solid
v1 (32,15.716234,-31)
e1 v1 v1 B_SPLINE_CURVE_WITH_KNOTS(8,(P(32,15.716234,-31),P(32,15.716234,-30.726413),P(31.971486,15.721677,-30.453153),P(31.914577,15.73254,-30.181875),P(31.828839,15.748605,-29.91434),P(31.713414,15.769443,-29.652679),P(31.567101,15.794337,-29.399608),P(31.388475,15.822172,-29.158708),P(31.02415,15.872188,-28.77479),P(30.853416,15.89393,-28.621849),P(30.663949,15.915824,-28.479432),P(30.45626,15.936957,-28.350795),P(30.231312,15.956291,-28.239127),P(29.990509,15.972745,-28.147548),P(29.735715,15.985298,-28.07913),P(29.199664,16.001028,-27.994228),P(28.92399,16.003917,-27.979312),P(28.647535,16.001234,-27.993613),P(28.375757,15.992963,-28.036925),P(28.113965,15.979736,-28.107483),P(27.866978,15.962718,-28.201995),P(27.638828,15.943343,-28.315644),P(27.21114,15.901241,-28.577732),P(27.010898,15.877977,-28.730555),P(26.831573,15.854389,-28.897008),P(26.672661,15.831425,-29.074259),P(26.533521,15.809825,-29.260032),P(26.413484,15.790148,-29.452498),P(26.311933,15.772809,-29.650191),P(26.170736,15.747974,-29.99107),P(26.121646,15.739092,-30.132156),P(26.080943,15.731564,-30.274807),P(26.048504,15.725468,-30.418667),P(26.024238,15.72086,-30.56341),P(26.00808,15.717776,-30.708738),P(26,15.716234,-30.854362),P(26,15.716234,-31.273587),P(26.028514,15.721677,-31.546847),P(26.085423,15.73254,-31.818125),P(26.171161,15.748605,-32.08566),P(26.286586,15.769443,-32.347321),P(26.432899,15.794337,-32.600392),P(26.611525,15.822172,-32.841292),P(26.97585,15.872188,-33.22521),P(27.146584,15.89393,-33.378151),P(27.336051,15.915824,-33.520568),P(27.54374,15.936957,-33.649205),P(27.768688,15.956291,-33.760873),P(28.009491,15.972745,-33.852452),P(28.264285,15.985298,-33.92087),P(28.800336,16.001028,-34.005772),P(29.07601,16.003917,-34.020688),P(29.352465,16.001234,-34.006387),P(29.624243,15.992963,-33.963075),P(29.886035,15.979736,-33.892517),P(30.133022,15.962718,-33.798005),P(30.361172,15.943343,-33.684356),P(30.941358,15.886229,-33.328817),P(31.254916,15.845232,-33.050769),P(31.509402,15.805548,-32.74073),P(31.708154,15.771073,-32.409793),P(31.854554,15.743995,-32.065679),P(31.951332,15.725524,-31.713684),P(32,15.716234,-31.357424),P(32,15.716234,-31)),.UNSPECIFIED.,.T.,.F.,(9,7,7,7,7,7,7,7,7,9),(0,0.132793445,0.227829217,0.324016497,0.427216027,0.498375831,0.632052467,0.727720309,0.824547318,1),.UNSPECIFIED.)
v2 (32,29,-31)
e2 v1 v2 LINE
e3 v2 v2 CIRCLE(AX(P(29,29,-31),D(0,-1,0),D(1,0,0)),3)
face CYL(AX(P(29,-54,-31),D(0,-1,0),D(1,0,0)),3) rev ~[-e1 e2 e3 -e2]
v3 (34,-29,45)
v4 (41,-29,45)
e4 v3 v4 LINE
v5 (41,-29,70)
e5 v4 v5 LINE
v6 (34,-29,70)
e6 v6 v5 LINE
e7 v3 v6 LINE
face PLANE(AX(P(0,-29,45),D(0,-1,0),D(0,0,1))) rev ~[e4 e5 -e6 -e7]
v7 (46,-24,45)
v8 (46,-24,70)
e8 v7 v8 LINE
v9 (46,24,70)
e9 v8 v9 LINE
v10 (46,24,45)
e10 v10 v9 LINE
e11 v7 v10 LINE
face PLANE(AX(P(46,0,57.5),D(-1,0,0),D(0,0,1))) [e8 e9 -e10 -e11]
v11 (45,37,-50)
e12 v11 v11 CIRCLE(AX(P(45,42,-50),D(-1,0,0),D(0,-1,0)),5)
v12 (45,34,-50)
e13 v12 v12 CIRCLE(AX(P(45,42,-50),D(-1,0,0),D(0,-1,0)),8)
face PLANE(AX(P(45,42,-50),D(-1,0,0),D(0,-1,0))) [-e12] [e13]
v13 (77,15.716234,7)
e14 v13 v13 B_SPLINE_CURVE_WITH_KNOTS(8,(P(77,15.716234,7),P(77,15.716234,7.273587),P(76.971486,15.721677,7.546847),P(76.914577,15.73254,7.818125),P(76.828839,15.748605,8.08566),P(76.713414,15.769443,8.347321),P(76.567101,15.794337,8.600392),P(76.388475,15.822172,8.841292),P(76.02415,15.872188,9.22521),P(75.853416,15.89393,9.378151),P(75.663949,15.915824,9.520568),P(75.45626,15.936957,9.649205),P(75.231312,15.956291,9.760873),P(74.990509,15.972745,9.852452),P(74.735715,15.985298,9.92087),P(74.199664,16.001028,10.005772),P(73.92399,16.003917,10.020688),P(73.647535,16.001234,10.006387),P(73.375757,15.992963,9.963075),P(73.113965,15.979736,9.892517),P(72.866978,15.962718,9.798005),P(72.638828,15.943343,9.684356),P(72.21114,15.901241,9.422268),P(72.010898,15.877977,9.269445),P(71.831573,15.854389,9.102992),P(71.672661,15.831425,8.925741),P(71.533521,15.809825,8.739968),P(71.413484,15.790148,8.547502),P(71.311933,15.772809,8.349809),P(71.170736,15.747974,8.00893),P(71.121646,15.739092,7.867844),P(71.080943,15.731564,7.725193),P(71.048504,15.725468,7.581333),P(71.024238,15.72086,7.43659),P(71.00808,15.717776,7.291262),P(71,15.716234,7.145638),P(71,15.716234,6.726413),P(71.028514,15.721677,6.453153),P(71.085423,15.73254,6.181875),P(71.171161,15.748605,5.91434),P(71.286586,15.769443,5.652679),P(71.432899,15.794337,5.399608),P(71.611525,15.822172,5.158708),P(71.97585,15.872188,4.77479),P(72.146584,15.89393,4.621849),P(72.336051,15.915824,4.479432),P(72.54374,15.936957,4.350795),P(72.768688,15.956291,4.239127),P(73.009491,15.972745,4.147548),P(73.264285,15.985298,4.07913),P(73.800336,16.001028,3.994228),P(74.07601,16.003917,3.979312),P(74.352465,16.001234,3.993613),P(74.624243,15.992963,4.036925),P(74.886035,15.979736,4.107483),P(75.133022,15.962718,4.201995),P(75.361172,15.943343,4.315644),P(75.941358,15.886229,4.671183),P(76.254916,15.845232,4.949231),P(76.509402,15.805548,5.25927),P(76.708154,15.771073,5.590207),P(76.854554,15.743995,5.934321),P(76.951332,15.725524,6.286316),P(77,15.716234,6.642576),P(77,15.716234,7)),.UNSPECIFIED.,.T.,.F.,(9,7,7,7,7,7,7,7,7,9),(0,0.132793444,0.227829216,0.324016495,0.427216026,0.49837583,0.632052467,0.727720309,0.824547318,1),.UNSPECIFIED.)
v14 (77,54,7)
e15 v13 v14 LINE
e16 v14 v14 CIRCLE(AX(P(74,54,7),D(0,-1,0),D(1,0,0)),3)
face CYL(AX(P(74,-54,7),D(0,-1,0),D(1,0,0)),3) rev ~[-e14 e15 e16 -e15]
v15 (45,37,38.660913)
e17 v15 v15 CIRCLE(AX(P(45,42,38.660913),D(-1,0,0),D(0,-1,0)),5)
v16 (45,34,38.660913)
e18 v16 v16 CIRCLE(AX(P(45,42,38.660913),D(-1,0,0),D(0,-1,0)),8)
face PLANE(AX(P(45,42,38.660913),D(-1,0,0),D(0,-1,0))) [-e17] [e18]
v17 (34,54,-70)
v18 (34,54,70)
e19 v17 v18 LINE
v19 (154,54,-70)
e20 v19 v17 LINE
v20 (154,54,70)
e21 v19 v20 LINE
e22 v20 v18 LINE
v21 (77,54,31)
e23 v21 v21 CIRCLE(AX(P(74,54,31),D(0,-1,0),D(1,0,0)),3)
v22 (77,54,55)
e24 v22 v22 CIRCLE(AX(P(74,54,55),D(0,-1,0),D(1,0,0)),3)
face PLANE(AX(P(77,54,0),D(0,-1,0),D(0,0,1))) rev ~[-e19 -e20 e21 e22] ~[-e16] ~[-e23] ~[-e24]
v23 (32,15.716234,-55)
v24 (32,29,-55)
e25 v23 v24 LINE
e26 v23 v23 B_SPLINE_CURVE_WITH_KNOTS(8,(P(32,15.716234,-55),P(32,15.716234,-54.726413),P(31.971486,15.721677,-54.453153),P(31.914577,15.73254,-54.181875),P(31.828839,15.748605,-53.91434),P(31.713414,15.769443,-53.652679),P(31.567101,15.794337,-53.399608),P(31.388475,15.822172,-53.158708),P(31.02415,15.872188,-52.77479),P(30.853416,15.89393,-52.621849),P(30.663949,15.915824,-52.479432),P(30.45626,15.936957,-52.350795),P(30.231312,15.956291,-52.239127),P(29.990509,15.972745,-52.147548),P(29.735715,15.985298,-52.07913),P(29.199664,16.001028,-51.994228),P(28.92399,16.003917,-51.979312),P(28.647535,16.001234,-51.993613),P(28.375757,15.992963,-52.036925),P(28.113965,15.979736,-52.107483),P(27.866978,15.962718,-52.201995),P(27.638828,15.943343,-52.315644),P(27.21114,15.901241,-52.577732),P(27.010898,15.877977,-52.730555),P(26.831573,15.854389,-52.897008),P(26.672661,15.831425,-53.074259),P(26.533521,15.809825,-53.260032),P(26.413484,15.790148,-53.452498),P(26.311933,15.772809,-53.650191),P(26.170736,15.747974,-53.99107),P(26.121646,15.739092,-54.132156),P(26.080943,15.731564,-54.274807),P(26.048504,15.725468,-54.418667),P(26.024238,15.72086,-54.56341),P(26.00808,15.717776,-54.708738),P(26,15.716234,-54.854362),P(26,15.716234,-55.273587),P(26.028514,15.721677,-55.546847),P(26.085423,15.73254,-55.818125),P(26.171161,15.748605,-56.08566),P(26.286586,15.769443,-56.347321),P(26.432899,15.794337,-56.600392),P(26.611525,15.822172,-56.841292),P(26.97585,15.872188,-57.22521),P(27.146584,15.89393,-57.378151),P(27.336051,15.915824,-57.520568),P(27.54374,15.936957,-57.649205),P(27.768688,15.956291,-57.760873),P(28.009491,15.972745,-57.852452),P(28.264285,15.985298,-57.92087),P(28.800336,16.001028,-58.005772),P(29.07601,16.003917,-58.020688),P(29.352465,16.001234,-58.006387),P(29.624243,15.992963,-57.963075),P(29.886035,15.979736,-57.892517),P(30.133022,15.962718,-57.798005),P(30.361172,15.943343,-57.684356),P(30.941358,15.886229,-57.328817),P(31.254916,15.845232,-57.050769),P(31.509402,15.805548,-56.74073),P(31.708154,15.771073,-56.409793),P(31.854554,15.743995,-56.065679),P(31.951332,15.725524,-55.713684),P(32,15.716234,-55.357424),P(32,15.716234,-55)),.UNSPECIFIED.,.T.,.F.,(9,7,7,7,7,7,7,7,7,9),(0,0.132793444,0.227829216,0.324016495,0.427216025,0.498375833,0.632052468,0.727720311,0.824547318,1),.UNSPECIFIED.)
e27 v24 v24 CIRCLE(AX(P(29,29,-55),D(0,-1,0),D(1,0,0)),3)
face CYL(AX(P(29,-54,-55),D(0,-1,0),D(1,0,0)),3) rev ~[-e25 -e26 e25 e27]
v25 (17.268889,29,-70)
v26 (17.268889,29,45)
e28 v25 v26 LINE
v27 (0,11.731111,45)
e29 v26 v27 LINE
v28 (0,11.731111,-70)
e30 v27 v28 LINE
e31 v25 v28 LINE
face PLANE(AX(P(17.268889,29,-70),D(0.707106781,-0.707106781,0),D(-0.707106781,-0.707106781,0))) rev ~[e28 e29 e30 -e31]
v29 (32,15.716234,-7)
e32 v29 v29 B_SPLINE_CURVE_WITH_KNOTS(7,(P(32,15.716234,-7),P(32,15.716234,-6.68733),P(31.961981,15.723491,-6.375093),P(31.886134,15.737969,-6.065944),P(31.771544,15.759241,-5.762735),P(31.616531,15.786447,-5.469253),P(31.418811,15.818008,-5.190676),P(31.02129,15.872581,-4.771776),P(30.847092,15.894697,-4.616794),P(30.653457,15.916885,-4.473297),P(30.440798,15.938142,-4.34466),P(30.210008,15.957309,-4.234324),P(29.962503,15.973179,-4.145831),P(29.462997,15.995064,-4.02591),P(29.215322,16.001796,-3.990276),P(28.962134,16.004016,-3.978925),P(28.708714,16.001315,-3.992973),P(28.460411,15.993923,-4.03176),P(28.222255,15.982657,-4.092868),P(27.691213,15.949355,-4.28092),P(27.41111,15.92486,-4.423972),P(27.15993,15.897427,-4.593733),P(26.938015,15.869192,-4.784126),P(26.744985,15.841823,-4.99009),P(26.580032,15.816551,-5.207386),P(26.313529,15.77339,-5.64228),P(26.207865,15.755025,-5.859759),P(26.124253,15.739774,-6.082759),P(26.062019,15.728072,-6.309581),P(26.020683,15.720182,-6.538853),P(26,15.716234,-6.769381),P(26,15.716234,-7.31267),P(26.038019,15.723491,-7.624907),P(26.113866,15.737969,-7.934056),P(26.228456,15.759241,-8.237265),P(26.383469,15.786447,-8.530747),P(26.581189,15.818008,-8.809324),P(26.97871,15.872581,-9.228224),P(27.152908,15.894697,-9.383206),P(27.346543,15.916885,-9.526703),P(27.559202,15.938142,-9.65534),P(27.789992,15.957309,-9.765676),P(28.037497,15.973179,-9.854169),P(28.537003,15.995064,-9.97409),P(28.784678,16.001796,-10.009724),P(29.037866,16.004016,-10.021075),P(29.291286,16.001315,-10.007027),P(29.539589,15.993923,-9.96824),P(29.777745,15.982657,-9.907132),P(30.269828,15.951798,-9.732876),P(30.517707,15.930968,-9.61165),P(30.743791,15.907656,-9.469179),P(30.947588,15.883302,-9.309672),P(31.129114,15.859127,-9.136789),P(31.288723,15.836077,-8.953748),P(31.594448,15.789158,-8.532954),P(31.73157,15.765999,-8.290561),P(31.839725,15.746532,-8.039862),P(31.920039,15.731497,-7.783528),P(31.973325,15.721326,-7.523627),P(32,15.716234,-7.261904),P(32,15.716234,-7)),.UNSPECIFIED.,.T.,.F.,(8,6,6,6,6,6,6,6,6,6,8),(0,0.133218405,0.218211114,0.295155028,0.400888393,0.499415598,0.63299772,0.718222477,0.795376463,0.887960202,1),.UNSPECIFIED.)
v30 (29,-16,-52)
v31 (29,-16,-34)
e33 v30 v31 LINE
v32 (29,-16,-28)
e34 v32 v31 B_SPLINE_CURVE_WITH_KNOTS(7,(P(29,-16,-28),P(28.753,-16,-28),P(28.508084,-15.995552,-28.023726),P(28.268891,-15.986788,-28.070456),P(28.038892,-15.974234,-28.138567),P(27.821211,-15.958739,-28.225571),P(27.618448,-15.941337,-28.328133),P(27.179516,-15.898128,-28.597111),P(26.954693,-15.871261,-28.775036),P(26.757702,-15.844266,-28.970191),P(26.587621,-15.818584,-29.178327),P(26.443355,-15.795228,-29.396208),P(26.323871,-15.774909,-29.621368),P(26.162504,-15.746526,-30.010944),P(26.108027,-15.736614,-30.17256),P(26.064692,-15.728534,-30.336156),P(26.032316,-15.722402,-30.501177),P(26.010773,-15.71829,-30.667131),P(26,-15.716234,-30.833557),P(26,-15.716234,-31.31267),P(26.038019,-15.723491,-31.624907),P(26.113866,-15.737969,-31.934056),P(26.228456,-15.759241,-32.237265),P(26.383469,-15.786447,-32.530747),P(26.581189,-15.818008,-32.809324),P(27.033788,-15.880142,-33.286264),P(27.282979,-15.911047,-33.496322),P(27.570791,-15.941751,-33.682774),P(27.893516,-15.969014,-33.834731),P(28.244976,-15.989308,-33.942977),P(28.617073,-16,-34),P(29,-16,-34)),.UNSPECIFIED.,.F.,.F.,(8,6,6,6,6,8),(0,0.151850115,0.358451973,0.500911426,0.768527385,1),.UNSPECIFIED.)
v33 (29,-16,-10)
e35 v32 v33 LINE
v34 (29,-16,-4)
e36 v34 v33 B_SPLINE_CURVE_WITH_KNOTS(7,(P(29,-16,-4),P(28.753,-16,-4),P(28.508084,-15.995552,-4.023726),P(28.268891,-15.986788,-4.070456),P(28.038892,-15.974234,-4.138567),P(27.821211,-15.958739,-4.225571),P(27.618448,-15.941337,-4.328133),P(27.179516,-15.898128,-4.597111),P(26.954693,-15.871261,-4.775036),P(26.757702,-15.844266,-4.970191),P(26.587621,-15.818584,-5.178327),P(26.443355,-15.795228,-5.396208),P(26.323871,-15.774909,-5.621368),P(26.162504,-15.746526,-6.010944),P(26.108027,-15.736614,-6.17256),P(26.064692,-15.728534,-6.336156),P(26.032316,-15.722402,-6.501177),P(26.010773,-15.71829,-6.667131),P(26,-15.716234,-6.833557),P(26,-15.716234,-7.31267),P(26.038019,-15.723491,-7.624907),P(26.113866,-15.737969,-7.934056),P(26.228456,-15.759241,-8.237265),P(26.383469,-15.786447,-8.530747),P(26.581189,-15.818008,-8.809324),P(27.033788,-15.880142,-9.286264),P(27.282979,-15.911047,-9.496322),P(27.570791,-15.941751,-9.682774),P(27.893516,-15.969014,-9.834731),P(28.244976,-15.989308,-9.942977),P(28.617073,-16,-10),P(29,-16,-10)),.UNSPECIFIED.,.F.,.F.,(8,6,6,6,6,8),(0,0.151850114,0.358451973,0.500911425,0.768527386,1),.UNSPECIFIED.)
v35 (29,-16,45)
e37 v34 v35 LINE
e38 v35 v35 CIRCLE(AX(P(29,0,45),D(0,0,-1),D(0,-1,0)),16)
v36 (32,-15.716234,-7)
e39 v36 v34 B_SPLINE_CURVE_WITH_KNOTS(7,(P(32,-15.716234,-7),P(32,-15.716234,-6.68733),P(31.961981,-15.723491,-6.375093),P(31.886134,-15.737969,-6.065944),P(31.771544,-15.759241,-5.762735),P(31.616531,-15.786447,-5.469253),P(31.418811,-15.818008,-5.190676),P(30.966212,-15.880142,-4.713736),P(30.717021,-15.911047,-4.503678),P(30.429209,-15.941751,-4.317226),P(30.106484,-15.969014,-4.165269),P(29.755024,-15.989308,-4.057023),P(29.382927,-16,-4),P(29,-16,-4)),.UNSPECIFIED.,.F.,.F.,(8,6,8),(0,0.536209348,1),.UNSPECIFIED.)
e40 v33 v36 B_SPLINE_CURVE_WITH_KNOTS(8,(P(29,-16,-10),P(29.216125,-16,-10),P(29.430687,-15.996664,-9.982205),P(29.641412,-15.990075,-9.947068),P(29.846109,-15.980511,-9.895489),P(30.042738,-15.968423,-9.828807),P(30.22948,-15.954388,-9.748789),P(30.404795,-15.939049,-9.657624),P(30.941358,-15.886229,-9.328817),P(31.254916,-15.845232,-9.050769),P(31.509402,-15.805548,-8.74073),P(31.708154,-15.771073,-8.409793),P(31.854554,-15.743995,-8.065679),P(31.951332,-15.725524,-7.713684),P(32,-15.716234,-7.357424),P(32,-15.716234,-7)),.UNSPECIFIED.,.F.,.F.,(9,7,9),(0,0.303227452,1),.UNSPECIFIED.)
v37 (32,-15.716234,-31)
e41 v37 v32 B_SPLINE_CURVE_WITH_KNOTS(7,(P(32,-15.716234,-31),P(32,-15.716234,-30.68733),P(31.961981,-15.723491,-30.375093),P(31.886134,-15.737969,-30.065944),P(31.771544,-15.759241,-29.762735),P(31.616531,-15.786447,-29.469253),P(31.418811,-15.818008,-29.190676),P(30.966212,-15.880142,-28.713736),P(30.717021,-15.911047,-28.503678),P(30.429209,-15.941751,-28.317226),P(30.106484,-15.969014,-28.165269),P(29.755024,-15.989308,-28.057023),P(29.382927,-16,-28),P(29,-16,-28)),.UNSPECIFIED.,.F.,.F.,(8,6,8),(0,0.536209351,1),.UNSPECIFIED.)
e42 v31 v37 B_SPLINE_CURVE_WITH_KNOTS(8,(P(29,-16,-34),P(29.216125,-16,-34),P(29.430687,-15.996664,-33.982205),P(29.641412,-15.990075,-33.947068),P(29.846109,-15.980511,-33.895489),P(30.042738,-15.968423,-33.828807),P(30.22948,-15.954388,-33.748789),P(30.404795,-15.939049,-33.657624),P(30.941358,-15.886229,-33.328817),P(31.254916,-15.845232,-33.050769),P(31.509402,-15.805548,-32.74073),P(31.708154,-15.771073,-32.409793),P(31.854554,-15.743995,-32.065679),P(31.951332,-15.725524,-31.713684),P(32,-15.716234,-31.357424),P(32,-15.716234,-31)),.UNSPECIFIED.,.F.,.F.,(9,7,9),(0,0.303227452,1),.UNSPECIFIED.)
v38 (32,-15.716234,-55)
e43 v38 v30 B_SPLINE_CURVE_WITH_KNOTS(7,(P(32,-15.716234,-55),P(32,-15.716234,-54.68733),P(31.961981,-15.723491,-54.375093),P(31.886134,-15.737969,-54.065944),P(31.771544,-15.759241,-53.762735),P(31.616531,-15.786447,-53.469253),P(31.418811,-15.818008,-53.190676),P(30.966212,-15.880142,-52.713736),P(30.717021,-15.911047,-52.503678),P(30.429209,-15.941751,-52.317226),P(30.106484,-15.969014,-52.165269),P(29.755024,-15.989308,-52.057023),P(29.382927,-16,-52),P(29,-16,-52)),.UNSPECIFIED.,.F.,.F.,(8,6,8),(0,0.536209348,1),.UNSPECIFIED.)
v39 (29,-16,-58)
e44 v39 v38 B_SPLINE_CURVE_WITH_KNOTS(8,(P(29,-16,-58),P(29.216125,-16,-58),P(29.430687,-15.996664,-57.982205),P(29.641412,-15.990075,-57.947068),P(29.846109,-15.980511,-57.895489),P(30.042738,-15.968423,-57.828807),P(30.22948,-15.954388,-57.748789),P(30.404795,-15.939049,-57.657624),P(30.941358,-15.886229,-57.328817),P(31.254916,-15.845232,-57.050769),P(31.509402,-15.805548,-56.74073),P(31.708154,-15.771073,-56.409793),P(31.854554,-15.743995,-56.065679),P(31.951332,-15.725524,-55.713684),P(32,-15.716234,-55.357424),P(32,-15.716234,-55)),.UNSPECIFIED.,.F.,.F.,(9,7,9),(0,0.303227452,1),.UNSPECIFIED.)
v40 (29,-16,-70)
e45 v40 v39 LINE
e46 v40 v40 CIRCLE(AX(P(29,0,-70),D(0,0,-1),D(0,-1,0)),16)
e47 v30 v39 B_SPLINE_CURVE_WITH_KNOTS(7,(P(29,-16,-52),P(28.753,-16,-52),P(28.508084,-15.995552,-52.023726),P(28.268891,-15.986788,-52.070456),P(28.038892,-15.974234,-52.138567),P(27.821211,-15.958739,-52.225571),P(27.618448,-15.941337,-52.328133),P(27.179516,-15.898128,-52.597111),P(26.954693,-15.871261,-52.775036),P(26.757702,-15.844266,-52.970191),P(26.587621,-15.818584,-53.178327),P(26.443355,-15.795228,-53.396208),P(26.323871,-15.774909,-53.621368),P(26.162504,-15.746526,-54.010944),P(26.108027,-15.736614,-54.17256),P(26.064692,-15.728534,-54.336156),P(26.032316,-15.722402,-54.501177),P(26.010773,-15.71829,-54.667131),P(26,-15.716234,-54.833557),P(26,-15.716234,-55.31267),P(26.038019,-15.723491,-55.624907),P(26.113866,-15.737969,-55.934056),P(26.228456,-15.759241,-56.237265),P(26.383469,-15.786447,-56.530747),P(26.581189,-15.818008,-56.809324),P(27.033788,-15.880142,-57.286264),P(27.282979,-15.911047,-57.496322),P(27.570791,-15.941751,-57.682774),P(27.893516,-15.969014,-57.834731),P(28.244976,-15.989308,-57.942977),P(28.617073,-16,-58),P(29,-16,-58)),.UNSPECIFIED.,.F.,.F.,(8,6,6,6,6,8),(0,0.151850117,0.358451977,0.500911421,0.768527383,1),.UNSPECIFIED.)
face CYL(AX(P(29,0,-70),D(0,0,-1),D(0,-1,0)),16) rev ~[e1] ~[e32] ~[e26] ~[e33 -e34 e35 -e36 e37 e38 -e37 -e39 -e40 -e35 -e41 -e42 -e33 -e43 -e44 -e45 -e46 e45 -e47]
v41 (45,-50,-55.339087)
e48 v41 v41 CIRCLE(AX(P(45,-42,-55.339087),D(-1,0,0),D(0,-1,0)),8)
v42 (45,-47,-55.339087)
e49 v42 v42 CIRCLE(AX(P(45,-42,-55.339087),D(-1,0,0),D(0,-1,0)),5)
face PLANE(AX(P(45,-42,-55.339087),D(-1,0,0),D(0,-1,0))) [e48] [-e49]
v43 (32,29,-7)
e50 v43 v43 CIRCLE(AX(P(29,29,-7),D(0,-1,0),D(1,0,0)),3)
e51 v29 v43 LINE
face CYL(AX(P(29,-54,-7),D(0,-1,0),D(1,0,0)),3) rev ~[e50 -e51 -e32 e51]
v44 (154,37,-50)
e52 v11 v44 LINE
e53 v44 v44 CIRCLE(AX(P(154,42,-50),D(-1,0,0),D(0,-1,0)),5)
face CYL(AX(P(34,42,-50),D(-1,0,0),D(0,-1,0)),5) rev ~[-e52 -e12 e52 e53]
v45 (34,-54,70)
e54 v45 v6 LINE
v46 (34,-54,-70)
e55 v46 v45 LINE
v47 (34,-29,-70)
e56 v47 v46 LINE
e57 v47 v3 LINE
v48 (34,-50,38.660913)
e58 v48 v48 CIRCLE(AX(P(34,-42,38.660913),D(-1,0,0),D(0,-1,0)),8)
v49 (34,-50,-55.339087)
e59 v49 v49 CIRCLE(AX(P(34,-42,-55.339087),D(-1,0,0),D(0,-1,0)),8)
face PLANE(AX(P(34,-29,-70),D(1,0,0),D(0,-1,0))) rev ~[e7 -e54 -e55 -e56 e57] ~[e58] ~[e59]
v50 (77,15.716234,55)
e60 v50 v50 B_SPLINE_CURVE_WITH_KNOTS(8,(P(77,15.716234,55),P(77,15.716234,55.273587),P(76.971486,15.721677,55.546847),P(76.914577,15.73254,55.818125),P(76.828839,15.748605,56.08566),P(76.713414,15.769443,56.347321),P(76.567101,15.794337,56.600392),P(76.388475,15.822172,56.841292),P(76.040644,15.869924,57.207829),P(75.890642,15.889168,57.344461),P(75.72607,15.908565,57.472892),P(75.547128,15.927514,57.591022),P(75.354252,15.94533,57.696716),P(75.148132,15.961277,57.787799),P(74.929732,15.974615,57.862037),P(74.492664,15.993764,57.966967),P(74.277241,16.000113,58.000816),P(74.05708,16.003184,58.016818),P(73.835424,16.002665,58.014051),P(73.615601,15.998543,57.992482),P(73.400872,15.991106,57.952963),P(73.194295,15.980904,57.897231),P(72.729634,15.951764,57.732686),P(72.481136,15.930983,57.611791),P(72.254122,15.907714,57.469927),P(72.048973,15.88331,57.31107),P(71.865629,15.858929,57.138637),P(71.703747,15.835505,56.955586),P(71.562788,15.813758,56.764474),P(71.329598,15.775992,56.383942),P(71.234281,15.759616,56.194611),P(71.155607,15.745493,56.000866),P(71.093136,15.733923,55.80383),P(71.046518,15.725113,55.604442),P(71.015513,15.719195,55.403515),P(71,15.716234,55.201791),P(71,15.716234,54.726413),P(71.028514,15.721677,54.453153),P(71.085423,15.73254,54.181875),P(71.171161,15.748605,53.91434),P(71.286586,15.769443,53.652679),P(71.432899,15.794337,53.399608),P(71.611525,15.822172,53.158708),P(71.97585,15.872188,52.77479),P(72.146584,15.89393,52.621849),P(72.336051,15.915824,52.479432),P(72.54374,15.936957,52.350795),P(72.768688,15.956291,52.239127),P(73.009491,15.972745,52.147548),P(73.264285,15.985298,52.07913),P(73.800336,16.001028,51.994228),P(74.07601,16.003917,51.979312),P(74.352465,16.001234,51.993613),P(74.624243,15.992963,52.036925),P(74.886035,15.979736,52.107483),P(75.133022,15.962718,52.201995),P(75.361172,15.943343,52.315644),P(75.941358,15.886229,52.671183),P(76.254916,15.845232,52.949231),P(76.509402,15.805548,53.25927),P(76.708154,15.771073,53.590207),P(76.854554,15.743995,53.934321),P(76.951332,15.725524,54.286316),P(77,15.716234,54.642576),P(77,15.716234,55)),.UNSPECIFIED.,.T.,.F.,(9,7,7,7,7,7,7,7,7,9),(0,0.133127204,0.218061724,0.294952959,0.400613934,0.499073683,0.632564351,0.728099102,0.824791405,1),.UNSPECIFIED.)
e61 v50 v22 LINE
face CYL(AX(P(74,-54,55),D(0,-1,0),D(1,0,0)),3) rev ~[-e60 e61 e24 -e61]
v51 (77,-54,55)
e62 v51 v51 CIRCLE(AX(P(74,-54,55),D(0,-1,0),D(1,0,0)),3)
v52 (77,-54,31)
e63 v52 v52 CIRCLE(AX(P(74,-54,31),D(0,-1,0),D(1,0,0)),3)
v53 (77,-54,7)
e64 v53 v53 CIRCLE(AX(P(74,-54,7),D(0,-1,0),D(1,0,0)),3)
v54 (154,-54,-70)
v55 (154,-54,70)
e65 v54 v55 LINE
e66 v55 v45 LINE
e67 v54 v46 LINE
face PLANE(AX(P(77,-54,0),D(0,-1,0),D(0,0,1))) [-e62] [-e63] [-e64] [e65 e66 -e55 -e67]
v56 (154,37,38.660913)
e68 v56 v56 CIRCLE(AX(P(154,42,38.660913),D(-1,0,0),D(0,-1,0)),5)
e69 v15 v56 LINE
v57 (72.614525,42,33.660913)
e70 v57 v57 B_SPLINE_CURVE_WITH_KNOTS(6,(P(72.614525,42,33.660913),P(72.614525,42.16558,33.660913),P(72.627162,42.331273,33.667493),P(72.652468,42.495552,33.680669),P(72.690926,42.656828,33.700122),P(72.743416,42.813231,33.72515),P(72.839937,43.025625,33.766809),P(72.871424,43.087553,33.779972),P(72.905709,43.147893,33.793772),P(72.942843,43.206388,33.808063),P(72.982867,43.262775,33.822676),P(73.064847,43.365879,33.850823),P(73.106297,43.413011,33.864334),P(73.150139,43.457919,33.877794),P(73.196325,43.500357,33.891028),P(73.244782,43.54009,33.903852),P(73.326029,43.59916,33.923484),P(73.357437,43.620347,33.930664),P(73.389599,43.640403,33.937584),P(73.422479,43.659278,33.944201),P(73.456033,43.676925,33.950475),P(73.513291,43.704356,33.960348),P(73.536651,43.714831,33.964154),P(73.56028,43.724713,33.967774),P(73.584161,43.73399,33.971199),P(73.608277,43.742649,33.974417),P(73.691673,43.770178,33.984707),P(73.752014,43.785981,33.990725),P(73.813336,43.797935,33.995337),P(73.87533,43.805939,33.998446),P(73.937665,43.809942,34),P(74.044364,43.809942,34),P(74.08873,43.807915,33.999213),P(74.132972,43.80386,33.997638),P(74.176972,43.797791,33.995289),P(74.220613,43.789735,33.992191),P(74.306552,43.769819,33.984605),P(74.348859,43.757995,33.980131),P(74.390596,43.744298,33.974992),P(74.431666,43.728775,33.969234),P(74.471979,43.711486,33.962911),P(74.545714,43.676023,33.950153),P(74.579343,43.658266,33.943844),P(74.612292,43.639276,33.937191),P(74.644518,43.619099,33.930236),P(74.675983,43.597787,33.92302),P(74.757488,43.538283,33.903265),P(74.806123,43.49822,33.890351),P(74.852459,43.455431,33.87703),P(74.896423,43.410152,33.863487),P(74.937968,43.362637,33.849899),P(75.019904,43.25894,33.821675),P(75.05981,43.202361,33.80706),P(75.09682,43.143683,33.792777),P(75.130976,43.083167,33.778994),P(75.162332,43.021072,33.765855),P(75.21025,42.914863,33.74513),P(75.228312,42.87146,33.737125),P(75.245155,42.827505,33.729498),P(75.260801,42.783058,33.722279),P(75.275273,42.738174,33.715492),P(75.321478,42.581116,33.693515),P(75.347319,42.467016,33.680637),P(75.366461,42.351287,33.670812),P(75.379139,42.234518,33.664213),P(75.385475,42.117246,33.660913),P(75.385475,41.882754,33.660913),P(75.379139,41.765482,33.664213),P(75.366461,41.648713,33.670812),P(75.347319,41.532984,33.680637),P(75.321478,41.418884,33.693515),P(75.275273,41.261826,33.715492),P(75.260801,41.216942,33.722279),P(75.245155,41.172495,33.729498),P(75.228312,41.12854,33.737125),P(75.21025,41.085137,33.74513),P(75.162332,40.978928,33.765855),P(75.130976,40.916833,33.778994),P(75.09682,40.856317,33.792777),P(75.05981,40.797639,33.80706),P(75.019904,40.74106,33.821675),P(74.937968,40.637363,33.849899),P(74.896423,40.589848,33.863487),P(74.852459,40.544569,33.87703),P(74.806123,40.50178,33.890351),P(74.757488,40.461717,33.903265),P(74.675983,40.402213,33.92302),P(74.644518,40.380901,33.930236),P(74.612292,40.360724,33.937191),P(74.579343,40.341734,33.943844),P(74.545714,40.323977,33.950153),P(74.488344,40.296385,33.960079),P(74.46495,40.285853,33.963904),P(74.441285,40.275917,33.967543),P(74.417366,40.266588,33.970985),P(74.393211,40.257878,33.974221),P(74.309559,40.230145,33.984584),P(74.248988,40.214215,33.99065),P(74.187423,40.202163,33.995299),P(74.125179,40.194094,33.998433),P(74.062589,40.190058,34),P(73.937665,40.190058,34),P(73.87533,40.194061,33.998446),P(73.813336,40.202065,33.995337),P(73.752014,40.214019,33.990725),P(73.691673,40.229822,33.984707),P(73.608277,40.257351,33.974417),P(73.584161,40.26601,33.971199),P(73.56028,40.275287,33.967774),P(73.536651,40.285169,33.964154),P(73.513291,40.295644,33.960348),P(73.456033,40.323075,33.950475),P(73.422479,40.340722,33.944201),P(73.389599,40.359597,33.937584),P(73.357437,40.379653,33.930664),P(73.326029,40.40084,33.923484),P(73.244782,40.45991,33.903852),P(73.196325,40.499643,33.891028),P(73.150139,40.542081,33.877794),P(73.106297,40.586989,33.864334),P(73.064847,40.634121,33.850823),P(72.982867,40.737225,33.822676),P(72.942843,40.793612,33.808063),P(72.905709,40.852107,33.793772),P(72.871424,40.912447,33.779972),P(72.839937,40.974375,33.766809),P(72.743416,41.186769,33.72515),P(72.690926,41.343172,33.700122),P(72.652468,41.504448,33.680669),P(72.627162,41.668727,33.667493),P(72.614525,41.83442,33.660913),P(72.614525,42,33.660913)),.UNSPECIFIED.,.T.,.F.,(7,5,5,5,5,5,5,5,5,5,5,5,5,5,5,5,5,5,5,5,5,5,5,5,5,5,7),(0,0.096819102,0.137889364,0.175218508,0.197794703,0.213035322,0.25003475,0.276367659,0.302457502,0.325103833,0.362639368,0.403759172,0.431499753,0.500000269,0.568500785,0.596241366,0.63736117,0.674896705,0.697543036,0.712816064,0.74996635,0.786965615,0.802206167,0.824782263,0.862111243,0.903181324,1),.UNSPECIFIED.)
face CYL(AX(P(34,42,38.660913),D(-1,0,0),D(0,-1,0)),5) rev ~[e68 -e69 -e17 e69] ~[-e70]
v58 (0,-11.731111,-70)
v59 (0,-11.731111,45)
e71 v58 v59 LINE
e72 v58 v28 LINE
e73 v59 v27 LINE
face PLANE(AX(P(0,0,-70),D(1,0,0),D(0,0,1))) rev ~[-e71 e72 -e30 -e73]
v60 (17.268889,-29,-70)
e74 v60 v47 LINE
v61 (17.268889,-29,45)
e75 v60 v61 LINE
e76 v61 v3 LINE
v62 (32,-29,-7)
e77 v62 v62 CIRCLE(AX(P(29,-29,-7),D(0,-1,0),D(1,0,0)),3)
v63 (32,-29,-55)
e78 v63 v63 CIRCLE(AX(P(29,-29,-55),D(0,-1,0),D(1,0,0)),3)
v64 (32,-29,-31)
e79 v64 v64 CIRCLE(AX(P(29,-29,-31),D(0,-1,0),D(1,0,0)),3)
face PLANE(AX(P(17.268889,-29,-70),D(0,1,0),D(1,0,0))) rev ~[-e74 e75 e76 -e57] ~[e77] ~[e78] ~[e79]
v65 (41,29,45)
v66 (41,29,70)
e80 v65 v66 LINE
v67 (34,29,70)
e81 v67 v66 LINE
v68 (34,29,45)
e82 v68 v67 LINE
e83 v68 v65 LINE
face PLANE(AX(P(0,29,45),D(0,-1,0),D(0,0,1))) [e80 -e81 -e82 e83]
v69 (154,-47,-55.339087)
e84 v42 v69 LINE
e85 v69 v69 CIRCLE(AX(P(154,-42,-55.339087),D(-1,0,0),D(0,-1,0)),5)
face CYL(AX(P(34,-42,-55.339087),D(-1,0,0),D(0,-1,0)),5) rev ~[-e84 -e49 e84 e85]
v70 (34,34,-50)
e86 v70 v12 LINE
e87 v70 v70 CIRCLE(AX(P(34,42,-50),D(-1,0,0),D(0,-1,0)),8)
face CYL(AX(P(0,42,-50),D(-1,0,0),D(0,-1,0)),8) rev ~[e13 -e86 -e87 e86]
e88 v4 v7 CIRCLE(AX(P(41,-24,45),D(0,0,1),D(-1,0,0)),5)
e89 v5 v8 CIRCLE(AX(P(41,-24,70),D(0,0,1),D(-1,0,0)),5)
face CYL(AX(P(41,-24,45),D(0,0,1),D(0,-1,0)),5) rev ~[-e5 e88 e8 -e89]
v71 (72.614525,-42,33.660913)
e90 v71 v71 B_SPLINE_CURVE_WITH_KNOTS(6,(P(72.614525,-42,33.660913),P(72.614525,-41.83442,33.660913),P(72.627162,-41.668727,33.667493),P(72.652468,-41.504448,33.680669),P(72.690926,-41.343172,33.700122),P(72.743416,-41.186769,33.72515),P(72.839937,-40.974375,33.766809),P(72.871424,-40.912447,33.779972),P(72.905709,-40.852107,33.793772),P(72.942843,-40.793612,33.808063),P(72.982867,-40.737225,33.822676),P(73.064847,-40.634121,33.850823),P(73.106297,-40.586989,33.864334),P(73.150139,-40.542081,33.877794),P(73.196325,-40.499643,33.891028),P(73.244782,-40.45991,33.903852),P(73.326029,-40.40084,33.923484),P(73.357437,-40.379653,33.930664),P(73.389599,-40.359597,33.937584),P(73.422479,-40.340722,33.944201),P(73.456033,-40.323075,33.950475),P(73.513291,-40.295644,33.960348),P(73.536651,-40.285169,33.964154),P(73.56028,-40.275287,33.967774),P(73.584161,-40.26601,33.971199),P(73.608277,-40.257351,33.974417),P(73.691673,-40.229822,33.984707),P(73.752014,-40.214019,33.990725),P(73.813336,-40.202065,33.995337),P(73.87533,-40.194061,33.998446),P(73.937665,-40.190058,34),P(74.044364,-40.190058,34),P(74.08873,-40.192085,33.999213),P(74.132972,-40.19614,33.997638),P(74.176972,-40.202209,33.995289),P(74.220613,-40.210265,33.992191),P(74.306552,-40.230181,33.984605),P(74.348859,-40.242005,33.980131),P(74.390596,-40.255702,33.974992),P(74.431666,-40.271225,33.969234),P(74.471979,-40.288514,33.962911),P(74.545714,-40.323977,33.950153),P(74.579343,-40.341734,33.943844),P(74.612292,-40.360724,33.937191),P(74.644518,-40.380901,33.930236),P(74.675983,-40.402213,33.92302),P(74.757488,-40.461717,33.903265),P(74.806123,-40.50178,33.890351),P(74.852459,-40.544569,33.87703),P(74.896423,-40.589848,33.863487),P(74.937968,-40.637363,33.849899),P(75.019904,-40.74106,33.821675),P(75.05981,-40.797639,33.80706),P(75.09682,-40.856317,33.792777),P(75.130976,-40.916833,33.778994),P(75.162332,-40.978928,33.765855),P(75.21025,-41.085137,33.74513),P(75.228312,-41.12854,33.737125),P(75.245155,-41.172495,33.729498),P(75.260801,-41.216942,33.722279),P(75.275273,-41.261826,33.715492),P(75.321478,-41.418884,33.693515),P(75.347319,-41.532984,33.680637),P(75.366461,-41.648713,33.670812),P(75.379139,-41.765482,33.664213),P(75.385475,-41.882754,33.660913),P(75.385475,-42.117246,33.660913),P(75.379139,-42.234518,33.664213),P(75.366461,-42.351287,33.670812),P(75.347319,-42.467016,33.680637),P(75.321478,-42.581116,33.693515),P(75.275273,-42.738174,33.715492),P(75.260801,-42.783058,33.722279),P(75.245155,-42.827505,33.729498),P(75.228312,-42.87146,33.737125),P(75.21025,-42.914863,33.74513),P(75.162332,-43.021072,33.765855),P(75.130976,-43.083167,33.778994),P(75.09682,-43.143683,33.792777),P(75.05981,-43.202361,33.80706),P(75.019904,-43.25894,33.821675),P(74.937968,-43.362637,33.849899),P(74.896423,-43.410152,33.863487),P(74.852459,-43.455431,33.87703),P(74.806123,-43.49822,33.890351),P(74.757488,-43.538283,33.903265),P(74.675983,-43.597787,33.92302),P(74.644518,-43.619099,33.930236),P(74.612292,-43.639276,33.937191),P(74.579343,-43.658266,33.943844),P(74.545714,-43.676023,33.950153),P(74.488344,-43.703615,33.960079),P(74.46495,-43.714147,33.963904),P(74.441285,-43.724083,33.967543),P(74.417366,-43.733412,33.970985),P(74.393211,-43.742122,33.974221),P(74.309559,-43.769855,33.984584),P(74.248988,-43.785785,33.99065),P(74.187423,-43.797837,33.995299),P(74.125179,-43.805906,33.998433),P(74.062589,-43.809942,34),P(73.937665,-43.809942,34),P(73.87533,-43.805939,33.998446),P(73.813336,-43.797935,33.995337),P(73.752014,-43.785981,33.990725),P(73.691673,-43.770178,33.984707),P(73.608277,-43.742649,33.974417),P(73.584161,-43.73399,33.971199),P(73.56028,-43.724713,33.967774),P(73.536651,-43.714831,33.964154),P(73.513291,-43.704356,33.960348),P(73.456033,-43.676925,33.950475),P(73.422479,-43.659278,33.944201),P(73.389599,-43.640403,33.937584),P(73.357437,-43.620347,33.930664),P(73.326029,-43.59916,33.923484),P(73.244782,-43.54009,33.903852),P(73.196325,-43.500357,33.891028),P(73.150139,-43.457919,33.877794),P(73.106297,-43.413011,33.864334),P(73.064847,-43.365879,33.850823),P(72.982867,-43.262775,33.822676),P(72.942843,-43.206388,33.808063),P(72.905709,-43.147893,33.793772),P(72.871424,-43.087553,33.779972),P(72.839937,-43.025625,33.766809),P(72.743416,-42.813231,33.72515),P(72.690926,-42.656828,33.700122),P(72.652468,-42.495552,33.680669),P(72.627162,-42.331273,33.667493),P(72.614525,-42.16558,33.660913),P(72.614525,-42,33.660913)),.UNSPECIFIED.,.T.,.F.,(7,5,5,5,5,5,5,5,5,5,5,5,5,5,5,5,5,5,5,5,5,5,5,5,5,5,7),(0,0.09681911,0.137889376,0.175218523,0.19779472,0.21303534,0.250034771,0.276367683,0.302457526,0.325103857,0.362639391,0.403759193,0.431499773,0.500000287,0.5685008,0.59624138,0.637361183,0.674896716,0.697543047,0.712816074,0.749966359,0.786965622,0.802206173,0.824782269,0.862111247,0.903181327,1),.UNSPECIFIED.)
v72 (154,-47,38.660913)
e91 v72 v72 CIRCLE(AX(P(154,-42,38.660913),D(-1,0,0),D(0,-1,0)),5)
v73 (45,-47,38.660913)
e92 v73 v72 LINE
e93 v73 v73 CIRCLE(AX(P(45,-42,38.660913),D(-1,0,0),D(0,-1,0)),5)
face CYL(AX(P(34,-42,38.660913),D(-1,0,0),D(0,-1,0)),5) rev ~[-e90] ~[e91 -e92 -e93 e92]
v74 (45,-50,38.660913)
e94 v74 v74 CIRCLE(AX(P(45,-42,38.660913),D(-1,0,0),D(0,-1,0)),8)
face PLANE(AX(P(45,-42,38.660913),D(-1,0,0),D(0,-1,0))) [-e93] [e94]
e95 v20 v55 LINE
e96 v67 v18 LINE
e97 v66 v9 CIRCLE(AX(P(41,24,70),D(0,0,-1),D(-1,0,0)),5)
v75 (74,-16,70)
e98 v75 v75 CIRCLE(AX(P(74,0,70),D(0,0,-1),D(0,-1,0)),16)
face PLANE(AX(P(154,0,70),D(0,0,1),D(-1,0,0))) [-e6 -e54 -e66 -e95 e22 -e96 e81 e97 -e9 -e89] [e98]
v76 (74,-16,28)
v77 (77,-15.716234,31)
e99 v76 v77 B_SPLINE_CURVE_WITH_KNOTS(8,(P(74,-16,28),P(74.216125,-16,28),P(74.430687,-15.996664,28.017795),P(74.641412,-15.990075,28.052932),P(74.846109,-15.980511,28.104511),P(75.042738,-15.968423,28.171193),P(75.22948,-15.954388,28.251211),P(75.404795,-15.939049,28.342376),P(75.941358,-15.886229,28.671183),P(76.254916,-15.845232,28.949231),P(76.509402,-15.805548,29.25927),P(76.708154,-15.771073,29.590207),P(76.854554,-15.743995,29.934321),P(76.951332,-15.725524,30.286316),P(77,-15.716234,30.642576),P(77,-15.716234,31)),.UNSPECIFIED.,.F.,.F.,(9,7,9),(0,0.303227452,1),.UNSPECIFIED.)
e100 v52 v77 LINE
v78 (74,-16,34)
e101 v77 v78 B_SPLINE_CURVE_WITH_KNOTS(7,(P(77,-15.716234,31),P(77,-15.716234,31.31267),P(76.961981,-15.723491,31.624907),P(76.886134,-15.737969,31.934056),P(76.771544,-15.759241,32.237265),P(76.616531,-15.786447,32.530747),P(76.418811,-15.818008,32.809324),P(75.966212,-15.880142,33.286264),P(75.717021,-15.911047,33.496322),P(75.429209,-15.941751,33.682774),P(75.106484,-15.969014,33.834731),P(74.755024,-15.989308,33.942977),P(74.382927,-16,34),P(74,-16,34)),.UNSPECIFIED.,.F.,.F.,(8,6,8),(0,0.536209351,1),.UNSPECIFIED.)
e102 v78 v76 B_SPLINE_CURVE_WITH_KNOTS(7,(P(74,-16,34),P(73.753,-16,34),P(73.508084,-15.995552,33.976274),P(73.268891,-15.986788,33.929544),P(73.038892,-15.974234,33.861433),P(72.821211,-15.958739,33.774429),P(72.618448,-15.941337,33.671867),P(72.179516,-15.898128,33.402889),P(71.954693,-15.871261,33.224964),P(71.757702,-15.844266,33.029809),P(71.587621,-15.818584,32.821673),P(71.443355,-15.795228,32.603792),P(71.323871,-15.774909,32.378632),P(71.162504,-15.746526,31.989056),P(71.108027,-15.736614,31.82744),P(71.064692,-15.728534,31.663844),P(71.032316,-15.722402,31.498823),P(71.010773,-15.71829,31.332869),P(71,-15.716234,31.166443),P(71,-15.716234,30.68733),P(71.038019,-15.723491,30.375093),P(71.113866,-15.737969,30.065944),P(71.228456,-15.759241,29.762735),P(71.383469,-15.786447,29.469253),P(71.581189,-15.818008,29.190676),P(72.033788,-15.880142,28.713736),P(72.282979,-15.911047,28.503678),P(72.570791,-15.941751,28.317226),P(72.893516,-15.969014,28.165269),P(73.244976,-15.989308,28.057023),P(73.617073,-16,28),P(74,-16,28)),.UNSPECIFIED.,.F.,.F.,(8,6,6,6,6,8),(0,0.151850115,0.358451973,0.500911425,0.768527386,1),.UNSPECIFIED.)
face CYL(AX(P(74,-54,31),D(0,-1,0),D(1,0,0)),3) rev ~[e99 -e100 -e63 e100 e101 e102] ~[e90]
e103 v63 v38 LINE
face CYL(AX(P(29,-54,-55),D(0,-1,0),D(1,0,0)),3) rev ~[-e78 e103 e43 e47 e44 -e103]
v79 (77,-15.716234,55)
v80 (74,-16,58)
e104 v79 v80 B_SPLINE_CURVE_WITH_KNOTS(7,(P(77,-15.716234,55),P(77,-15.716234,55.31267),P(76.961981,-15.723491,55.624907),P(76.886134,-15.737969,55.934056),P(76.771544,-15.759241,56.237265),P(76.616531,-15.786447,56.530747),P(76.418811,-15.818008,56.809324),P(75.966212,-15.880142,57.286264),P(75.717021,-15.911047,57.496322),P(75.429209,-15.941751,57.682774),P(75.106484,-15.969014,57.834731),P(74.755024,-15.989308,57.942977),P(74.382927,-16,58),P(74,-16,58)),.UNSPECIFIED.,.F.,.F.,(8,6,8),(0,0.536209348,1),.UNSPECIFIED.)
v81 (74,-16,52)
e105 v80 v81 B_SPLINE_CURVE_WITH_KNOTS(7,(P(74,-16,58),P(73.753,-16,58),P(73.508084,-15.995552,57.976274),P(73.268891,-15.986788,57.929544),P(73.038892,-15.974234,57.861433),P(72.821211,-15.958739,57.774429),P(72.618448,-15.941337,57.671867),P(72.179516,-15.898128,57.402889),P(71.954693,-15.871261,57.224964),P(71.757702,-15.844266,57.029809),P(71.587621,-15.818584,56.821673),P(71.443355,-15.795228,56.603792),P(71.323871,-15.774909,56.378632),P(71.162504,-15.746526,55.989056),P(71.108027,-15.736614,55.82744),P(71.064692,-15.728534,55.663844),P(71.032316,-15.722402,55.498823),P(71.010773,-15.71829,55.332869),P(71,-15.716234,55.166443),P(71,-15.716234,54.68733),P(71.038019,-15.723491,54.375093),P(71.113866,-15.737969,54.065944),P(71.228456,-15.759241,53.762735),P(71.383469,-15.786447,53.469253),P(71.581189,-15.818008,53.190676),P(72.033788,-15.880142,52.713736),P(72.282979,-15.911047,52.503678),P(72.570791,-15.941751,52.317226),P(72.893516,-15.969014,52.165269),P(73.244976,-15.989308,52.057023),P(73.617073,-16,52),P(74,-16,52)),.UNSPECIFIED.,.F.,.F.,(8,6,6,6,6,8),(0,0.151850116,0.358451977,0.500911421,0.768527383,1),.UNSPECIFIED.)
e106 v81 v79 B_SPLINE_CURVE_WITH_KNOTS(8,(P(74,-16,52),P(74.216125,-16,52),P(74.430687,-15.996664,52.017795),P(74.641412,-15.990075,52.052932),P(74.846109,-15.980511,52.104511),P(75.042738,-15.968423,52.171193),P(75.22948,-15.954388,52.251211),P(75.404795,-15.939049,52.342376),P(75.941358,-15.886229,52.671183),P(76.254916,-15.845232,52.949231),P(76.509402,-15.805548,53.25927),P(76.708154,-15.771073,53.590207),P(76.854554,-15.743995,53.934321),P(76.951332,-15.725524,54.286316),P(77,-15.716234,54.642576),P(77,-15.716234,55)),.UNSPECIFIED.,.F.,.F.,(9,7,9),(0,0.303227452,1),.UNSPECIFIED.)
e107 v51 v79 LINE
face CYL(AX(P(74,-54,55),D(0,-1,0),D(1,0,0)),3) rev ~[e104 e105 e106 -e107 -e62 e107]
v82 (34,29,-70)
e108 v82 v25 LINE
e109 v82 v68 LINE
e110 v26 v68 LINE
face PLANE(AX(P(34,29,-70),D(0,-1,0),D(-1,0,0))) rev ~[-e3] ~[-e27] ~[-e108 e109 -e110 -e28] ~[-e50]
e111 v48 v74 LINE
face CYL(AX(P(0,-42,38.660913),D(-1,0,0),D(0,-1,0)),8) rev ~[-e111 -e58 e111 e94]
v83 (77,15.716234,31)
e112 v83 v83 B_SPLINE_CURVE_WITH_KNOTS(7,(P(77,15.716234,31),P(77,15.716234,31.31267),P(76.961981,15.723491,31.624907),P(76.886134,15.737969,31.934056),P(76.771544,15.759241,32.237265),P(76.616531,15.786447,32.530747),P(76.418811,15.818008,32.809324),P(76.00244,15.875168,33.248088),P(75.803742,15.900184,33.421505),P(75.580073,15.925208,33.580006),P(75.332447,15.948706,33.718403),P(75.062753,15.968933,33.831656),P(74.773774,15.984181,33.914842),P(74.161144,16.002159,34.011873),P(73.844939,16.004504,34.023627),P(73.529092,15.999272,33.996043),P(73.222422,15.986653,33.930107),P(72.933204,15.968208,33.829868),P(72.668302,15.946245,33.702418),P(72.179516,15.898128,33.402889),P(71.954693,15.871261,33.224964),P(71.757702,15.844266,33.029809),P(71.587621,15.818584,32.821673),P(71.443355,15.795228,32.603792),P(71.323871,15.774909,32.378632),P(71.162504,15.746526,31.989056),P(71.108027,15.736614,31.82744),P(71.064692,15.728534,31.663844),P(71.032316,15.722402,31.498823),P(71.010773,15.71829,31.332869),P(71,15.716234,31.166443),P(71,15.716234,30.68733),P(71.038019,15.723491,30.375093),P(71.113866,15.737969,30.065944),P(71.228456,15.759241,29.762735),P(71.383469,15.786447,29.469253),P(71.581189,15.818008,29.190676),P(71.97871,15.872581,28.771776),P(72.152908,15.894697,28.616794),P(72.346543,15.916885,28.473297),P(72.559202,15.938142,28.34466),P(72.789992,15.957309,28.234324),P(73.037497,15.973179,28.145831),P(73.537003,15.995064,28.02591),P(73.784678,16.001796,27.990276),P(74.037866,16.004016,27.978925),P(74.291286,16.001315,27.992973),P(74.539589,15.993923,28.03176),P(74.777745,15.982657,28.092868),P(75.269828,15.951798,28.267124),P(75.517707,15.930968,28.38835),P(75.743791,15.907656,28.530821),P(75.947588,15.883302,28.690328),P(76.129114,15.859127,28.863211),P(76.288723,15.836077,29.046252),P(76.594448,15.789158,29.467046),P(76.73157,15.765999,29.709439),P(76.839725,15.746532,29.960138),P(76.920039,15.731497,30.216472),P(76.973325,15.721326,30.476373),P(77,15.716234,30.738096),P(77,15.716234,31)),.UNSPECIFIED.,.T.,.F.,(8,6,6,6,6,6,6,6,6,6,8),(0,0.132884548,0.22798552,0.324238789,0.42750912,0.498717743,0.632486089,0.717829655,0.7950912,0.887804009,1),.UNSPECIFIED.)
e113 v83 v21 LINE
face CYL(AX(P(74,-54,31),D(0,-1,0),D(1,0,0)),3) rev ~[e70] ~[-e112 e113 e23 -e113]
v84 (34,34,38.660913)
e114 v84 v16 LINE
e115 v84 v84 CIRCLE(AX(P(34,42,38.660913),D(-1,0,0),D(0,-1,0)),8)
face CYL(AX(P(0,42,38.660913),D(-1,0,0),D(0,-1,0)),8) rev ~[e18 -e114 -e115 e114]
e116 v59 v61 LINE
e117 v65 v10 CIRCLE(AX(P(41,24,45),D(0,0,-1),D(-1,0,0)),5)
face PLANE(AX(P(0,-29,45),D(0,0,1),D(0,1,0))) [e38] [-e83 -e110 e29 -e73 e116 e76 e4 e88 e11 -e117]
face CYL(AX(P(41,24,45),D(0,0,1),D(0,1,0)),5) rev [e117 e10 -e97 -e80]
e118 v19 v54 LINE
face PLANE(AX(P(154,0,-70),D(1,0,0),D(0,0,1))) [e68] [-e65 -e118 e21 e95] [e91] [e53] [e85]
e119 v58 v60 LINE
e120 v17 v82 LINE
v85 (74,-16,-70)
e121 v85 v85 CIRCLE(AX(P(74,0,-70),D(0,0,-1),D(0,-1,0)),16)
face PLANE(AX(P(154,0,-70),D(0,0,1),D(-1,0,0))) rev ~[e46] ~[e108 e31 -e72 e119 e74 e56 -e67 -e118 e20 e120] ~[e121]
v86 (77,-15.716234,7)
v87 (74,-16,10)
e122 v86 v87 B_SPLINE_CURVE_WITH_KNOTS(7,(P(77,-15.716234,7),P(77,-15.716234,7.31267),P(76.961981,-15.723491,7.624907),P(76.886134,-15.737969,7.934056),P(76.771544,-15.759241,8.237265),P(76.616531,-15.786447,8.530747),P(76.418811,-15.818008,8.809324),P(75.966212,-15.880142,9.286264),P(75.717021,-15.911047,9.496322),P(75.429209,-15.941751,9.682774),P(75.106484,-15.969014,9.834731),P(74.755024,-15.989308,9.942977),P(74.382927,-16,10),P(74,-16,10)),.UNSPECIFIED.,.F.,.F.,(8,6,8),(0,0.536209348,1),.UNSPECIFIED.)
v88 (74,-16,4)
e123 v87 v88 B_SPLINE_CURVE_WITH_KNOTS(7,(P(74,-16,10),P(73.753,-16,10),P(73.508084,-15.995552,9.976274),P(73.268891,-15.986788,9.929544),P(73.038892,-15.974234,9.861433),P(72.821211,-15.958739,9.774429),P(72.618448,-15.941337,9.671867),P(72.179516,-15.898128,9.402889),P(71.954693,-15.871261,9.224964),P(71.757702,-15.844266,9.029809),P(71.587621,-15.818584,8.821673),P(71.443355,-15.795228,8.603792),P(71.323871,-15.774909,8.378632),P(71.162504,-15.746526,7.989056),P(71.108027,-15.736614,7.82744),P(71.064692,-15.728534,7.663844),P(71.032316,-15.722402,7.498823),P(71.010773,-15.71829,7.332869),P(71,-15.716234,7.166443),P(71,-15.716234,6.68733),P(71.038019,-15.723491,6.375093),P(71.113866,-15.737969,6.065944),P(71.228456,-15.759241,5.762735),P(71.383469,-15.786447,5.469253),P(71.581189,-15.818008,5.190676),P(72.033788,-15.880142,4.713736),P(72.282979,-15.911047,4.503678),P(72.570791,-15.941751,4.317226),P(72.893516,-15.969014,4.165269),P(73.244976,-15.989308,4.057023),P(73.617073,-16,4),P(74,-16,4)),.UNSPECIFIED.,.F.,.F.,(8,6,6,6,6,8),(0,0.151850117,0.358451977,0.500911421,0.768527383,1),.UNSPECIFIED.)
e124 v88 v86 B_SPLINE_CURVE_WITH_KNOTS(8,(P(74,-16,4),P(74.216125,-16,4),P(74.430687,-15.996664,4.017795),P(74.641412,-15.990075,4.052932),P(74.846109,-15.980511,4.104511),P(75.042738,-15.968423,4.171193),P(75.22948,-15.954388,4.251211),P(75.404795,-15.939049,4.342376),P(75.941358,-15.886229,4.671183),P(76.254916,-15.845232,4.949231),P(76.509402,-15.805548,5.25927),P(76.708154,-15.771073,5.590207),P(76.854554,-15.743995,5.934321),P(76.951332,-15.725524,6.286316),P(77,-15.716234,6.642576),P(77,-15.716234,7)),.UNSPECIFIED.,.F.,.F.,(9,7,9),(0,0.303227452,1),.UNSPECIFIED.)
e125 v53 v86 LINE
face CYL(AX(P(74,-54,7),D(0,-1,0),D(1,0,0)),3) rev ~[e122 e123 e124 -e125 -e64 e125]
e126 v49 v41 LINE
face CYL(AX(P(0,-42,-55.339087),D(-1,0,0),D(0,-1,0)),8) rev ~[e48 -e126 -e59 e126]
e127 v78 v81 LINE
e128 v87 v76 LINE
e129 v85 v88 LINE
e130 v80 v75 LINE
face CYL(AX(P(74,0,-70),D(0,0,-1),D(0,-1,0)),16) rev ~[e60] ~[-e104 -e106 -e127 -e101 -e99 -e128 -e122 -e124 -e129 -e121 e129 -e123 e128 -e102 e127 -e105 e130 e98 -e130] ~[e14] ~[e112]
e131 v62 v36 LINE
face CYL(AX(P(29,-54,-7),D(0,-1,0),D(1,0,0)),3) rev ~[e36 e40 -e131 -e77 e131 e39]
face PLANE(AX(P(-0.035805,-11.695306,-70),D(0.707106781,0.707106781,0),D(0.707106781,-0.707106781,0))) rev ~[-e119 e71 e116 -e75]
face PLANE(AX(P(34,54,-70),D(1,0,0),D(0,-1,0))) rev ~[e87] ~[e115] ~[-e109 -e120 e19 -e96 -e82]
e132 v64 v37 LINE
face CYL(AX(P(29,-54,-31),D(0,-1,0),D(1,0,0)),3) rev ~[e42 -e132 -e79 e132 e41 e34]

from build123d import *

# Parameters (mm, degrees)
F0_W      = 140
F0_H      = 154
F1_DEPTH  = 54
F2_R      = 16
F3_DEPTH  = 140.001
F5_DEPTH  = 140.001
F6_W      = 25
F6_H      = 58
F7_DEPTH  = 46
F8_R      = 5
F9_ANGLE  = 270
F14_R     = 8
F15_DEPTH = 45
F16_R     = 5
F17_DEPTH = 120.001
F18_R     = 3
F19_DEPTH = 108.001


with BuildPart() as f1:
    # F0 (on Front) → F1 (new body, symmetric)
    with BuildSketch(Plane.XZ):
        with Locations((70, 0)):
            Rectangle(F0_W, F0_H)
    extrude(amount=F1_DEPTH, both=True)

    # F2 (on face) → F3 (cut, through all)
    with BuildSketch(Plane(origin=(0, 0, 0), x_dir=(0, -1, 0), z_dir=(-1, 0, 0))):
        with Locations((0, 48)):
            Circle(F2_R)
        with Locations((0, 3)):
            Circle(F2_R)
    extrude(amount=-F3_DEPTH, mode=Mode.SUBTRACT)

    # F4 (on face) → F5 (cut, through all)
    with BuildSketch(Plane(origin=(0, 0, 0), x_dir=(0, -1, 0), z_dir=(-1, 0, 0))):
        Polygon((-54, 77), (-54, 43), (-29, 43), (-29, 59.7311109304), (-11.6953058452, 77.0358050852), align=None)
        Polygon((54, 77), (11.6953058452, 77.0358050852), (29, 59.7311109304), (29, 43), (54, 43), align=None)
    extrude(amount=-F5_DEPTH, mode=Mode.SUBTRACT)

    # F6 (on face) → F7 (cut)
    with BuildSketch(Plane.XY.offset(77)):
        with Locations((127.5, 0)):
            Rectangle(F6_W, F6_H)
    extrude(amount=-F7_DEPTH, mode=Mode.SUBTRACT)

    # F8
    f8_edges = [f1.edges().sort_by_distance(p)[0] for p in [
        (127.5, -29, 31),
        (127.5, 29, 31),
    ]]
    fillet(f8_edges, radius=F8_R)


with BuildPart() as f1_1:
    # F9: moved
    add(f1.part.rotate(Axis((0, 0, -77), (0, 1, 0)), F9_ANGLE))


with BuildPart() as f1_2:
    # F11: moved
    add(f1_1.part.moved(Location((154, 0, 0))))


with BuildPart() as f1_3:
    # F13: moved
    add(f1_2.part.moved(Location((0, 0, 7))))

    # F14 (on face) → F15 (cut)
    with BuildSketch(Plane(origin=(0, 0, 0), x_dir=(0, -1, 0), z_dir=(-1, 0, 0))):
        with Locations((42, 38.6609129925)):
            Circle(F14_R)
        with Locations((-42, 38.6609129925)):
            Circle(F14_R)
        with Locations((42, -55.3390870075)):
            Circle(F14_R)
        with Locations((-42, -50)):
            Circle(F14_R)
    extrude(amount=-F15_DEPTH, mode=Mode.SUBTRACT)

    # F16 (on face) → F17 (cut, through all)
    with BuildSketch(Plane(origin=(34, 0, 0), x_dir=(0, -1, 0), z_dir=(-1, 0, 0))):
        with Locations((-42, -50)):
            Circle(F16_R)
        with Locations((-42, 38.6609129925)):
            Circle(F16_R)
        with Locations((42, 38.6609129925)):
            Circle(F16_R)
        with Locations((42, -55.3390870075)):
            Circle(F16_R)
    extrude(amount=-F17_DEPTH, mode=Mode.SUBTRACT)

    # F18 (on face) → F19 (cut, through all)
    with BuildSketch(Plane.XZ.offset(54)):
        with Locations((29, -55)):
            Circle(F18_R)
        with Locations((29, -31)):
            Circle(F18_R)
        with Locations((29, -7)):
            Circle(F18_R)
        with Locations((74, 55)):
            Circle(F18_R)
        with Locations((74, 31)):
            Circle(F18_R)
        with Locations((74, 7)):
            Circle(F18_R)
    extrude(amount=-F19_DEPTH, mode=Mode.SUBTRACT)


solid = f1_3.part
